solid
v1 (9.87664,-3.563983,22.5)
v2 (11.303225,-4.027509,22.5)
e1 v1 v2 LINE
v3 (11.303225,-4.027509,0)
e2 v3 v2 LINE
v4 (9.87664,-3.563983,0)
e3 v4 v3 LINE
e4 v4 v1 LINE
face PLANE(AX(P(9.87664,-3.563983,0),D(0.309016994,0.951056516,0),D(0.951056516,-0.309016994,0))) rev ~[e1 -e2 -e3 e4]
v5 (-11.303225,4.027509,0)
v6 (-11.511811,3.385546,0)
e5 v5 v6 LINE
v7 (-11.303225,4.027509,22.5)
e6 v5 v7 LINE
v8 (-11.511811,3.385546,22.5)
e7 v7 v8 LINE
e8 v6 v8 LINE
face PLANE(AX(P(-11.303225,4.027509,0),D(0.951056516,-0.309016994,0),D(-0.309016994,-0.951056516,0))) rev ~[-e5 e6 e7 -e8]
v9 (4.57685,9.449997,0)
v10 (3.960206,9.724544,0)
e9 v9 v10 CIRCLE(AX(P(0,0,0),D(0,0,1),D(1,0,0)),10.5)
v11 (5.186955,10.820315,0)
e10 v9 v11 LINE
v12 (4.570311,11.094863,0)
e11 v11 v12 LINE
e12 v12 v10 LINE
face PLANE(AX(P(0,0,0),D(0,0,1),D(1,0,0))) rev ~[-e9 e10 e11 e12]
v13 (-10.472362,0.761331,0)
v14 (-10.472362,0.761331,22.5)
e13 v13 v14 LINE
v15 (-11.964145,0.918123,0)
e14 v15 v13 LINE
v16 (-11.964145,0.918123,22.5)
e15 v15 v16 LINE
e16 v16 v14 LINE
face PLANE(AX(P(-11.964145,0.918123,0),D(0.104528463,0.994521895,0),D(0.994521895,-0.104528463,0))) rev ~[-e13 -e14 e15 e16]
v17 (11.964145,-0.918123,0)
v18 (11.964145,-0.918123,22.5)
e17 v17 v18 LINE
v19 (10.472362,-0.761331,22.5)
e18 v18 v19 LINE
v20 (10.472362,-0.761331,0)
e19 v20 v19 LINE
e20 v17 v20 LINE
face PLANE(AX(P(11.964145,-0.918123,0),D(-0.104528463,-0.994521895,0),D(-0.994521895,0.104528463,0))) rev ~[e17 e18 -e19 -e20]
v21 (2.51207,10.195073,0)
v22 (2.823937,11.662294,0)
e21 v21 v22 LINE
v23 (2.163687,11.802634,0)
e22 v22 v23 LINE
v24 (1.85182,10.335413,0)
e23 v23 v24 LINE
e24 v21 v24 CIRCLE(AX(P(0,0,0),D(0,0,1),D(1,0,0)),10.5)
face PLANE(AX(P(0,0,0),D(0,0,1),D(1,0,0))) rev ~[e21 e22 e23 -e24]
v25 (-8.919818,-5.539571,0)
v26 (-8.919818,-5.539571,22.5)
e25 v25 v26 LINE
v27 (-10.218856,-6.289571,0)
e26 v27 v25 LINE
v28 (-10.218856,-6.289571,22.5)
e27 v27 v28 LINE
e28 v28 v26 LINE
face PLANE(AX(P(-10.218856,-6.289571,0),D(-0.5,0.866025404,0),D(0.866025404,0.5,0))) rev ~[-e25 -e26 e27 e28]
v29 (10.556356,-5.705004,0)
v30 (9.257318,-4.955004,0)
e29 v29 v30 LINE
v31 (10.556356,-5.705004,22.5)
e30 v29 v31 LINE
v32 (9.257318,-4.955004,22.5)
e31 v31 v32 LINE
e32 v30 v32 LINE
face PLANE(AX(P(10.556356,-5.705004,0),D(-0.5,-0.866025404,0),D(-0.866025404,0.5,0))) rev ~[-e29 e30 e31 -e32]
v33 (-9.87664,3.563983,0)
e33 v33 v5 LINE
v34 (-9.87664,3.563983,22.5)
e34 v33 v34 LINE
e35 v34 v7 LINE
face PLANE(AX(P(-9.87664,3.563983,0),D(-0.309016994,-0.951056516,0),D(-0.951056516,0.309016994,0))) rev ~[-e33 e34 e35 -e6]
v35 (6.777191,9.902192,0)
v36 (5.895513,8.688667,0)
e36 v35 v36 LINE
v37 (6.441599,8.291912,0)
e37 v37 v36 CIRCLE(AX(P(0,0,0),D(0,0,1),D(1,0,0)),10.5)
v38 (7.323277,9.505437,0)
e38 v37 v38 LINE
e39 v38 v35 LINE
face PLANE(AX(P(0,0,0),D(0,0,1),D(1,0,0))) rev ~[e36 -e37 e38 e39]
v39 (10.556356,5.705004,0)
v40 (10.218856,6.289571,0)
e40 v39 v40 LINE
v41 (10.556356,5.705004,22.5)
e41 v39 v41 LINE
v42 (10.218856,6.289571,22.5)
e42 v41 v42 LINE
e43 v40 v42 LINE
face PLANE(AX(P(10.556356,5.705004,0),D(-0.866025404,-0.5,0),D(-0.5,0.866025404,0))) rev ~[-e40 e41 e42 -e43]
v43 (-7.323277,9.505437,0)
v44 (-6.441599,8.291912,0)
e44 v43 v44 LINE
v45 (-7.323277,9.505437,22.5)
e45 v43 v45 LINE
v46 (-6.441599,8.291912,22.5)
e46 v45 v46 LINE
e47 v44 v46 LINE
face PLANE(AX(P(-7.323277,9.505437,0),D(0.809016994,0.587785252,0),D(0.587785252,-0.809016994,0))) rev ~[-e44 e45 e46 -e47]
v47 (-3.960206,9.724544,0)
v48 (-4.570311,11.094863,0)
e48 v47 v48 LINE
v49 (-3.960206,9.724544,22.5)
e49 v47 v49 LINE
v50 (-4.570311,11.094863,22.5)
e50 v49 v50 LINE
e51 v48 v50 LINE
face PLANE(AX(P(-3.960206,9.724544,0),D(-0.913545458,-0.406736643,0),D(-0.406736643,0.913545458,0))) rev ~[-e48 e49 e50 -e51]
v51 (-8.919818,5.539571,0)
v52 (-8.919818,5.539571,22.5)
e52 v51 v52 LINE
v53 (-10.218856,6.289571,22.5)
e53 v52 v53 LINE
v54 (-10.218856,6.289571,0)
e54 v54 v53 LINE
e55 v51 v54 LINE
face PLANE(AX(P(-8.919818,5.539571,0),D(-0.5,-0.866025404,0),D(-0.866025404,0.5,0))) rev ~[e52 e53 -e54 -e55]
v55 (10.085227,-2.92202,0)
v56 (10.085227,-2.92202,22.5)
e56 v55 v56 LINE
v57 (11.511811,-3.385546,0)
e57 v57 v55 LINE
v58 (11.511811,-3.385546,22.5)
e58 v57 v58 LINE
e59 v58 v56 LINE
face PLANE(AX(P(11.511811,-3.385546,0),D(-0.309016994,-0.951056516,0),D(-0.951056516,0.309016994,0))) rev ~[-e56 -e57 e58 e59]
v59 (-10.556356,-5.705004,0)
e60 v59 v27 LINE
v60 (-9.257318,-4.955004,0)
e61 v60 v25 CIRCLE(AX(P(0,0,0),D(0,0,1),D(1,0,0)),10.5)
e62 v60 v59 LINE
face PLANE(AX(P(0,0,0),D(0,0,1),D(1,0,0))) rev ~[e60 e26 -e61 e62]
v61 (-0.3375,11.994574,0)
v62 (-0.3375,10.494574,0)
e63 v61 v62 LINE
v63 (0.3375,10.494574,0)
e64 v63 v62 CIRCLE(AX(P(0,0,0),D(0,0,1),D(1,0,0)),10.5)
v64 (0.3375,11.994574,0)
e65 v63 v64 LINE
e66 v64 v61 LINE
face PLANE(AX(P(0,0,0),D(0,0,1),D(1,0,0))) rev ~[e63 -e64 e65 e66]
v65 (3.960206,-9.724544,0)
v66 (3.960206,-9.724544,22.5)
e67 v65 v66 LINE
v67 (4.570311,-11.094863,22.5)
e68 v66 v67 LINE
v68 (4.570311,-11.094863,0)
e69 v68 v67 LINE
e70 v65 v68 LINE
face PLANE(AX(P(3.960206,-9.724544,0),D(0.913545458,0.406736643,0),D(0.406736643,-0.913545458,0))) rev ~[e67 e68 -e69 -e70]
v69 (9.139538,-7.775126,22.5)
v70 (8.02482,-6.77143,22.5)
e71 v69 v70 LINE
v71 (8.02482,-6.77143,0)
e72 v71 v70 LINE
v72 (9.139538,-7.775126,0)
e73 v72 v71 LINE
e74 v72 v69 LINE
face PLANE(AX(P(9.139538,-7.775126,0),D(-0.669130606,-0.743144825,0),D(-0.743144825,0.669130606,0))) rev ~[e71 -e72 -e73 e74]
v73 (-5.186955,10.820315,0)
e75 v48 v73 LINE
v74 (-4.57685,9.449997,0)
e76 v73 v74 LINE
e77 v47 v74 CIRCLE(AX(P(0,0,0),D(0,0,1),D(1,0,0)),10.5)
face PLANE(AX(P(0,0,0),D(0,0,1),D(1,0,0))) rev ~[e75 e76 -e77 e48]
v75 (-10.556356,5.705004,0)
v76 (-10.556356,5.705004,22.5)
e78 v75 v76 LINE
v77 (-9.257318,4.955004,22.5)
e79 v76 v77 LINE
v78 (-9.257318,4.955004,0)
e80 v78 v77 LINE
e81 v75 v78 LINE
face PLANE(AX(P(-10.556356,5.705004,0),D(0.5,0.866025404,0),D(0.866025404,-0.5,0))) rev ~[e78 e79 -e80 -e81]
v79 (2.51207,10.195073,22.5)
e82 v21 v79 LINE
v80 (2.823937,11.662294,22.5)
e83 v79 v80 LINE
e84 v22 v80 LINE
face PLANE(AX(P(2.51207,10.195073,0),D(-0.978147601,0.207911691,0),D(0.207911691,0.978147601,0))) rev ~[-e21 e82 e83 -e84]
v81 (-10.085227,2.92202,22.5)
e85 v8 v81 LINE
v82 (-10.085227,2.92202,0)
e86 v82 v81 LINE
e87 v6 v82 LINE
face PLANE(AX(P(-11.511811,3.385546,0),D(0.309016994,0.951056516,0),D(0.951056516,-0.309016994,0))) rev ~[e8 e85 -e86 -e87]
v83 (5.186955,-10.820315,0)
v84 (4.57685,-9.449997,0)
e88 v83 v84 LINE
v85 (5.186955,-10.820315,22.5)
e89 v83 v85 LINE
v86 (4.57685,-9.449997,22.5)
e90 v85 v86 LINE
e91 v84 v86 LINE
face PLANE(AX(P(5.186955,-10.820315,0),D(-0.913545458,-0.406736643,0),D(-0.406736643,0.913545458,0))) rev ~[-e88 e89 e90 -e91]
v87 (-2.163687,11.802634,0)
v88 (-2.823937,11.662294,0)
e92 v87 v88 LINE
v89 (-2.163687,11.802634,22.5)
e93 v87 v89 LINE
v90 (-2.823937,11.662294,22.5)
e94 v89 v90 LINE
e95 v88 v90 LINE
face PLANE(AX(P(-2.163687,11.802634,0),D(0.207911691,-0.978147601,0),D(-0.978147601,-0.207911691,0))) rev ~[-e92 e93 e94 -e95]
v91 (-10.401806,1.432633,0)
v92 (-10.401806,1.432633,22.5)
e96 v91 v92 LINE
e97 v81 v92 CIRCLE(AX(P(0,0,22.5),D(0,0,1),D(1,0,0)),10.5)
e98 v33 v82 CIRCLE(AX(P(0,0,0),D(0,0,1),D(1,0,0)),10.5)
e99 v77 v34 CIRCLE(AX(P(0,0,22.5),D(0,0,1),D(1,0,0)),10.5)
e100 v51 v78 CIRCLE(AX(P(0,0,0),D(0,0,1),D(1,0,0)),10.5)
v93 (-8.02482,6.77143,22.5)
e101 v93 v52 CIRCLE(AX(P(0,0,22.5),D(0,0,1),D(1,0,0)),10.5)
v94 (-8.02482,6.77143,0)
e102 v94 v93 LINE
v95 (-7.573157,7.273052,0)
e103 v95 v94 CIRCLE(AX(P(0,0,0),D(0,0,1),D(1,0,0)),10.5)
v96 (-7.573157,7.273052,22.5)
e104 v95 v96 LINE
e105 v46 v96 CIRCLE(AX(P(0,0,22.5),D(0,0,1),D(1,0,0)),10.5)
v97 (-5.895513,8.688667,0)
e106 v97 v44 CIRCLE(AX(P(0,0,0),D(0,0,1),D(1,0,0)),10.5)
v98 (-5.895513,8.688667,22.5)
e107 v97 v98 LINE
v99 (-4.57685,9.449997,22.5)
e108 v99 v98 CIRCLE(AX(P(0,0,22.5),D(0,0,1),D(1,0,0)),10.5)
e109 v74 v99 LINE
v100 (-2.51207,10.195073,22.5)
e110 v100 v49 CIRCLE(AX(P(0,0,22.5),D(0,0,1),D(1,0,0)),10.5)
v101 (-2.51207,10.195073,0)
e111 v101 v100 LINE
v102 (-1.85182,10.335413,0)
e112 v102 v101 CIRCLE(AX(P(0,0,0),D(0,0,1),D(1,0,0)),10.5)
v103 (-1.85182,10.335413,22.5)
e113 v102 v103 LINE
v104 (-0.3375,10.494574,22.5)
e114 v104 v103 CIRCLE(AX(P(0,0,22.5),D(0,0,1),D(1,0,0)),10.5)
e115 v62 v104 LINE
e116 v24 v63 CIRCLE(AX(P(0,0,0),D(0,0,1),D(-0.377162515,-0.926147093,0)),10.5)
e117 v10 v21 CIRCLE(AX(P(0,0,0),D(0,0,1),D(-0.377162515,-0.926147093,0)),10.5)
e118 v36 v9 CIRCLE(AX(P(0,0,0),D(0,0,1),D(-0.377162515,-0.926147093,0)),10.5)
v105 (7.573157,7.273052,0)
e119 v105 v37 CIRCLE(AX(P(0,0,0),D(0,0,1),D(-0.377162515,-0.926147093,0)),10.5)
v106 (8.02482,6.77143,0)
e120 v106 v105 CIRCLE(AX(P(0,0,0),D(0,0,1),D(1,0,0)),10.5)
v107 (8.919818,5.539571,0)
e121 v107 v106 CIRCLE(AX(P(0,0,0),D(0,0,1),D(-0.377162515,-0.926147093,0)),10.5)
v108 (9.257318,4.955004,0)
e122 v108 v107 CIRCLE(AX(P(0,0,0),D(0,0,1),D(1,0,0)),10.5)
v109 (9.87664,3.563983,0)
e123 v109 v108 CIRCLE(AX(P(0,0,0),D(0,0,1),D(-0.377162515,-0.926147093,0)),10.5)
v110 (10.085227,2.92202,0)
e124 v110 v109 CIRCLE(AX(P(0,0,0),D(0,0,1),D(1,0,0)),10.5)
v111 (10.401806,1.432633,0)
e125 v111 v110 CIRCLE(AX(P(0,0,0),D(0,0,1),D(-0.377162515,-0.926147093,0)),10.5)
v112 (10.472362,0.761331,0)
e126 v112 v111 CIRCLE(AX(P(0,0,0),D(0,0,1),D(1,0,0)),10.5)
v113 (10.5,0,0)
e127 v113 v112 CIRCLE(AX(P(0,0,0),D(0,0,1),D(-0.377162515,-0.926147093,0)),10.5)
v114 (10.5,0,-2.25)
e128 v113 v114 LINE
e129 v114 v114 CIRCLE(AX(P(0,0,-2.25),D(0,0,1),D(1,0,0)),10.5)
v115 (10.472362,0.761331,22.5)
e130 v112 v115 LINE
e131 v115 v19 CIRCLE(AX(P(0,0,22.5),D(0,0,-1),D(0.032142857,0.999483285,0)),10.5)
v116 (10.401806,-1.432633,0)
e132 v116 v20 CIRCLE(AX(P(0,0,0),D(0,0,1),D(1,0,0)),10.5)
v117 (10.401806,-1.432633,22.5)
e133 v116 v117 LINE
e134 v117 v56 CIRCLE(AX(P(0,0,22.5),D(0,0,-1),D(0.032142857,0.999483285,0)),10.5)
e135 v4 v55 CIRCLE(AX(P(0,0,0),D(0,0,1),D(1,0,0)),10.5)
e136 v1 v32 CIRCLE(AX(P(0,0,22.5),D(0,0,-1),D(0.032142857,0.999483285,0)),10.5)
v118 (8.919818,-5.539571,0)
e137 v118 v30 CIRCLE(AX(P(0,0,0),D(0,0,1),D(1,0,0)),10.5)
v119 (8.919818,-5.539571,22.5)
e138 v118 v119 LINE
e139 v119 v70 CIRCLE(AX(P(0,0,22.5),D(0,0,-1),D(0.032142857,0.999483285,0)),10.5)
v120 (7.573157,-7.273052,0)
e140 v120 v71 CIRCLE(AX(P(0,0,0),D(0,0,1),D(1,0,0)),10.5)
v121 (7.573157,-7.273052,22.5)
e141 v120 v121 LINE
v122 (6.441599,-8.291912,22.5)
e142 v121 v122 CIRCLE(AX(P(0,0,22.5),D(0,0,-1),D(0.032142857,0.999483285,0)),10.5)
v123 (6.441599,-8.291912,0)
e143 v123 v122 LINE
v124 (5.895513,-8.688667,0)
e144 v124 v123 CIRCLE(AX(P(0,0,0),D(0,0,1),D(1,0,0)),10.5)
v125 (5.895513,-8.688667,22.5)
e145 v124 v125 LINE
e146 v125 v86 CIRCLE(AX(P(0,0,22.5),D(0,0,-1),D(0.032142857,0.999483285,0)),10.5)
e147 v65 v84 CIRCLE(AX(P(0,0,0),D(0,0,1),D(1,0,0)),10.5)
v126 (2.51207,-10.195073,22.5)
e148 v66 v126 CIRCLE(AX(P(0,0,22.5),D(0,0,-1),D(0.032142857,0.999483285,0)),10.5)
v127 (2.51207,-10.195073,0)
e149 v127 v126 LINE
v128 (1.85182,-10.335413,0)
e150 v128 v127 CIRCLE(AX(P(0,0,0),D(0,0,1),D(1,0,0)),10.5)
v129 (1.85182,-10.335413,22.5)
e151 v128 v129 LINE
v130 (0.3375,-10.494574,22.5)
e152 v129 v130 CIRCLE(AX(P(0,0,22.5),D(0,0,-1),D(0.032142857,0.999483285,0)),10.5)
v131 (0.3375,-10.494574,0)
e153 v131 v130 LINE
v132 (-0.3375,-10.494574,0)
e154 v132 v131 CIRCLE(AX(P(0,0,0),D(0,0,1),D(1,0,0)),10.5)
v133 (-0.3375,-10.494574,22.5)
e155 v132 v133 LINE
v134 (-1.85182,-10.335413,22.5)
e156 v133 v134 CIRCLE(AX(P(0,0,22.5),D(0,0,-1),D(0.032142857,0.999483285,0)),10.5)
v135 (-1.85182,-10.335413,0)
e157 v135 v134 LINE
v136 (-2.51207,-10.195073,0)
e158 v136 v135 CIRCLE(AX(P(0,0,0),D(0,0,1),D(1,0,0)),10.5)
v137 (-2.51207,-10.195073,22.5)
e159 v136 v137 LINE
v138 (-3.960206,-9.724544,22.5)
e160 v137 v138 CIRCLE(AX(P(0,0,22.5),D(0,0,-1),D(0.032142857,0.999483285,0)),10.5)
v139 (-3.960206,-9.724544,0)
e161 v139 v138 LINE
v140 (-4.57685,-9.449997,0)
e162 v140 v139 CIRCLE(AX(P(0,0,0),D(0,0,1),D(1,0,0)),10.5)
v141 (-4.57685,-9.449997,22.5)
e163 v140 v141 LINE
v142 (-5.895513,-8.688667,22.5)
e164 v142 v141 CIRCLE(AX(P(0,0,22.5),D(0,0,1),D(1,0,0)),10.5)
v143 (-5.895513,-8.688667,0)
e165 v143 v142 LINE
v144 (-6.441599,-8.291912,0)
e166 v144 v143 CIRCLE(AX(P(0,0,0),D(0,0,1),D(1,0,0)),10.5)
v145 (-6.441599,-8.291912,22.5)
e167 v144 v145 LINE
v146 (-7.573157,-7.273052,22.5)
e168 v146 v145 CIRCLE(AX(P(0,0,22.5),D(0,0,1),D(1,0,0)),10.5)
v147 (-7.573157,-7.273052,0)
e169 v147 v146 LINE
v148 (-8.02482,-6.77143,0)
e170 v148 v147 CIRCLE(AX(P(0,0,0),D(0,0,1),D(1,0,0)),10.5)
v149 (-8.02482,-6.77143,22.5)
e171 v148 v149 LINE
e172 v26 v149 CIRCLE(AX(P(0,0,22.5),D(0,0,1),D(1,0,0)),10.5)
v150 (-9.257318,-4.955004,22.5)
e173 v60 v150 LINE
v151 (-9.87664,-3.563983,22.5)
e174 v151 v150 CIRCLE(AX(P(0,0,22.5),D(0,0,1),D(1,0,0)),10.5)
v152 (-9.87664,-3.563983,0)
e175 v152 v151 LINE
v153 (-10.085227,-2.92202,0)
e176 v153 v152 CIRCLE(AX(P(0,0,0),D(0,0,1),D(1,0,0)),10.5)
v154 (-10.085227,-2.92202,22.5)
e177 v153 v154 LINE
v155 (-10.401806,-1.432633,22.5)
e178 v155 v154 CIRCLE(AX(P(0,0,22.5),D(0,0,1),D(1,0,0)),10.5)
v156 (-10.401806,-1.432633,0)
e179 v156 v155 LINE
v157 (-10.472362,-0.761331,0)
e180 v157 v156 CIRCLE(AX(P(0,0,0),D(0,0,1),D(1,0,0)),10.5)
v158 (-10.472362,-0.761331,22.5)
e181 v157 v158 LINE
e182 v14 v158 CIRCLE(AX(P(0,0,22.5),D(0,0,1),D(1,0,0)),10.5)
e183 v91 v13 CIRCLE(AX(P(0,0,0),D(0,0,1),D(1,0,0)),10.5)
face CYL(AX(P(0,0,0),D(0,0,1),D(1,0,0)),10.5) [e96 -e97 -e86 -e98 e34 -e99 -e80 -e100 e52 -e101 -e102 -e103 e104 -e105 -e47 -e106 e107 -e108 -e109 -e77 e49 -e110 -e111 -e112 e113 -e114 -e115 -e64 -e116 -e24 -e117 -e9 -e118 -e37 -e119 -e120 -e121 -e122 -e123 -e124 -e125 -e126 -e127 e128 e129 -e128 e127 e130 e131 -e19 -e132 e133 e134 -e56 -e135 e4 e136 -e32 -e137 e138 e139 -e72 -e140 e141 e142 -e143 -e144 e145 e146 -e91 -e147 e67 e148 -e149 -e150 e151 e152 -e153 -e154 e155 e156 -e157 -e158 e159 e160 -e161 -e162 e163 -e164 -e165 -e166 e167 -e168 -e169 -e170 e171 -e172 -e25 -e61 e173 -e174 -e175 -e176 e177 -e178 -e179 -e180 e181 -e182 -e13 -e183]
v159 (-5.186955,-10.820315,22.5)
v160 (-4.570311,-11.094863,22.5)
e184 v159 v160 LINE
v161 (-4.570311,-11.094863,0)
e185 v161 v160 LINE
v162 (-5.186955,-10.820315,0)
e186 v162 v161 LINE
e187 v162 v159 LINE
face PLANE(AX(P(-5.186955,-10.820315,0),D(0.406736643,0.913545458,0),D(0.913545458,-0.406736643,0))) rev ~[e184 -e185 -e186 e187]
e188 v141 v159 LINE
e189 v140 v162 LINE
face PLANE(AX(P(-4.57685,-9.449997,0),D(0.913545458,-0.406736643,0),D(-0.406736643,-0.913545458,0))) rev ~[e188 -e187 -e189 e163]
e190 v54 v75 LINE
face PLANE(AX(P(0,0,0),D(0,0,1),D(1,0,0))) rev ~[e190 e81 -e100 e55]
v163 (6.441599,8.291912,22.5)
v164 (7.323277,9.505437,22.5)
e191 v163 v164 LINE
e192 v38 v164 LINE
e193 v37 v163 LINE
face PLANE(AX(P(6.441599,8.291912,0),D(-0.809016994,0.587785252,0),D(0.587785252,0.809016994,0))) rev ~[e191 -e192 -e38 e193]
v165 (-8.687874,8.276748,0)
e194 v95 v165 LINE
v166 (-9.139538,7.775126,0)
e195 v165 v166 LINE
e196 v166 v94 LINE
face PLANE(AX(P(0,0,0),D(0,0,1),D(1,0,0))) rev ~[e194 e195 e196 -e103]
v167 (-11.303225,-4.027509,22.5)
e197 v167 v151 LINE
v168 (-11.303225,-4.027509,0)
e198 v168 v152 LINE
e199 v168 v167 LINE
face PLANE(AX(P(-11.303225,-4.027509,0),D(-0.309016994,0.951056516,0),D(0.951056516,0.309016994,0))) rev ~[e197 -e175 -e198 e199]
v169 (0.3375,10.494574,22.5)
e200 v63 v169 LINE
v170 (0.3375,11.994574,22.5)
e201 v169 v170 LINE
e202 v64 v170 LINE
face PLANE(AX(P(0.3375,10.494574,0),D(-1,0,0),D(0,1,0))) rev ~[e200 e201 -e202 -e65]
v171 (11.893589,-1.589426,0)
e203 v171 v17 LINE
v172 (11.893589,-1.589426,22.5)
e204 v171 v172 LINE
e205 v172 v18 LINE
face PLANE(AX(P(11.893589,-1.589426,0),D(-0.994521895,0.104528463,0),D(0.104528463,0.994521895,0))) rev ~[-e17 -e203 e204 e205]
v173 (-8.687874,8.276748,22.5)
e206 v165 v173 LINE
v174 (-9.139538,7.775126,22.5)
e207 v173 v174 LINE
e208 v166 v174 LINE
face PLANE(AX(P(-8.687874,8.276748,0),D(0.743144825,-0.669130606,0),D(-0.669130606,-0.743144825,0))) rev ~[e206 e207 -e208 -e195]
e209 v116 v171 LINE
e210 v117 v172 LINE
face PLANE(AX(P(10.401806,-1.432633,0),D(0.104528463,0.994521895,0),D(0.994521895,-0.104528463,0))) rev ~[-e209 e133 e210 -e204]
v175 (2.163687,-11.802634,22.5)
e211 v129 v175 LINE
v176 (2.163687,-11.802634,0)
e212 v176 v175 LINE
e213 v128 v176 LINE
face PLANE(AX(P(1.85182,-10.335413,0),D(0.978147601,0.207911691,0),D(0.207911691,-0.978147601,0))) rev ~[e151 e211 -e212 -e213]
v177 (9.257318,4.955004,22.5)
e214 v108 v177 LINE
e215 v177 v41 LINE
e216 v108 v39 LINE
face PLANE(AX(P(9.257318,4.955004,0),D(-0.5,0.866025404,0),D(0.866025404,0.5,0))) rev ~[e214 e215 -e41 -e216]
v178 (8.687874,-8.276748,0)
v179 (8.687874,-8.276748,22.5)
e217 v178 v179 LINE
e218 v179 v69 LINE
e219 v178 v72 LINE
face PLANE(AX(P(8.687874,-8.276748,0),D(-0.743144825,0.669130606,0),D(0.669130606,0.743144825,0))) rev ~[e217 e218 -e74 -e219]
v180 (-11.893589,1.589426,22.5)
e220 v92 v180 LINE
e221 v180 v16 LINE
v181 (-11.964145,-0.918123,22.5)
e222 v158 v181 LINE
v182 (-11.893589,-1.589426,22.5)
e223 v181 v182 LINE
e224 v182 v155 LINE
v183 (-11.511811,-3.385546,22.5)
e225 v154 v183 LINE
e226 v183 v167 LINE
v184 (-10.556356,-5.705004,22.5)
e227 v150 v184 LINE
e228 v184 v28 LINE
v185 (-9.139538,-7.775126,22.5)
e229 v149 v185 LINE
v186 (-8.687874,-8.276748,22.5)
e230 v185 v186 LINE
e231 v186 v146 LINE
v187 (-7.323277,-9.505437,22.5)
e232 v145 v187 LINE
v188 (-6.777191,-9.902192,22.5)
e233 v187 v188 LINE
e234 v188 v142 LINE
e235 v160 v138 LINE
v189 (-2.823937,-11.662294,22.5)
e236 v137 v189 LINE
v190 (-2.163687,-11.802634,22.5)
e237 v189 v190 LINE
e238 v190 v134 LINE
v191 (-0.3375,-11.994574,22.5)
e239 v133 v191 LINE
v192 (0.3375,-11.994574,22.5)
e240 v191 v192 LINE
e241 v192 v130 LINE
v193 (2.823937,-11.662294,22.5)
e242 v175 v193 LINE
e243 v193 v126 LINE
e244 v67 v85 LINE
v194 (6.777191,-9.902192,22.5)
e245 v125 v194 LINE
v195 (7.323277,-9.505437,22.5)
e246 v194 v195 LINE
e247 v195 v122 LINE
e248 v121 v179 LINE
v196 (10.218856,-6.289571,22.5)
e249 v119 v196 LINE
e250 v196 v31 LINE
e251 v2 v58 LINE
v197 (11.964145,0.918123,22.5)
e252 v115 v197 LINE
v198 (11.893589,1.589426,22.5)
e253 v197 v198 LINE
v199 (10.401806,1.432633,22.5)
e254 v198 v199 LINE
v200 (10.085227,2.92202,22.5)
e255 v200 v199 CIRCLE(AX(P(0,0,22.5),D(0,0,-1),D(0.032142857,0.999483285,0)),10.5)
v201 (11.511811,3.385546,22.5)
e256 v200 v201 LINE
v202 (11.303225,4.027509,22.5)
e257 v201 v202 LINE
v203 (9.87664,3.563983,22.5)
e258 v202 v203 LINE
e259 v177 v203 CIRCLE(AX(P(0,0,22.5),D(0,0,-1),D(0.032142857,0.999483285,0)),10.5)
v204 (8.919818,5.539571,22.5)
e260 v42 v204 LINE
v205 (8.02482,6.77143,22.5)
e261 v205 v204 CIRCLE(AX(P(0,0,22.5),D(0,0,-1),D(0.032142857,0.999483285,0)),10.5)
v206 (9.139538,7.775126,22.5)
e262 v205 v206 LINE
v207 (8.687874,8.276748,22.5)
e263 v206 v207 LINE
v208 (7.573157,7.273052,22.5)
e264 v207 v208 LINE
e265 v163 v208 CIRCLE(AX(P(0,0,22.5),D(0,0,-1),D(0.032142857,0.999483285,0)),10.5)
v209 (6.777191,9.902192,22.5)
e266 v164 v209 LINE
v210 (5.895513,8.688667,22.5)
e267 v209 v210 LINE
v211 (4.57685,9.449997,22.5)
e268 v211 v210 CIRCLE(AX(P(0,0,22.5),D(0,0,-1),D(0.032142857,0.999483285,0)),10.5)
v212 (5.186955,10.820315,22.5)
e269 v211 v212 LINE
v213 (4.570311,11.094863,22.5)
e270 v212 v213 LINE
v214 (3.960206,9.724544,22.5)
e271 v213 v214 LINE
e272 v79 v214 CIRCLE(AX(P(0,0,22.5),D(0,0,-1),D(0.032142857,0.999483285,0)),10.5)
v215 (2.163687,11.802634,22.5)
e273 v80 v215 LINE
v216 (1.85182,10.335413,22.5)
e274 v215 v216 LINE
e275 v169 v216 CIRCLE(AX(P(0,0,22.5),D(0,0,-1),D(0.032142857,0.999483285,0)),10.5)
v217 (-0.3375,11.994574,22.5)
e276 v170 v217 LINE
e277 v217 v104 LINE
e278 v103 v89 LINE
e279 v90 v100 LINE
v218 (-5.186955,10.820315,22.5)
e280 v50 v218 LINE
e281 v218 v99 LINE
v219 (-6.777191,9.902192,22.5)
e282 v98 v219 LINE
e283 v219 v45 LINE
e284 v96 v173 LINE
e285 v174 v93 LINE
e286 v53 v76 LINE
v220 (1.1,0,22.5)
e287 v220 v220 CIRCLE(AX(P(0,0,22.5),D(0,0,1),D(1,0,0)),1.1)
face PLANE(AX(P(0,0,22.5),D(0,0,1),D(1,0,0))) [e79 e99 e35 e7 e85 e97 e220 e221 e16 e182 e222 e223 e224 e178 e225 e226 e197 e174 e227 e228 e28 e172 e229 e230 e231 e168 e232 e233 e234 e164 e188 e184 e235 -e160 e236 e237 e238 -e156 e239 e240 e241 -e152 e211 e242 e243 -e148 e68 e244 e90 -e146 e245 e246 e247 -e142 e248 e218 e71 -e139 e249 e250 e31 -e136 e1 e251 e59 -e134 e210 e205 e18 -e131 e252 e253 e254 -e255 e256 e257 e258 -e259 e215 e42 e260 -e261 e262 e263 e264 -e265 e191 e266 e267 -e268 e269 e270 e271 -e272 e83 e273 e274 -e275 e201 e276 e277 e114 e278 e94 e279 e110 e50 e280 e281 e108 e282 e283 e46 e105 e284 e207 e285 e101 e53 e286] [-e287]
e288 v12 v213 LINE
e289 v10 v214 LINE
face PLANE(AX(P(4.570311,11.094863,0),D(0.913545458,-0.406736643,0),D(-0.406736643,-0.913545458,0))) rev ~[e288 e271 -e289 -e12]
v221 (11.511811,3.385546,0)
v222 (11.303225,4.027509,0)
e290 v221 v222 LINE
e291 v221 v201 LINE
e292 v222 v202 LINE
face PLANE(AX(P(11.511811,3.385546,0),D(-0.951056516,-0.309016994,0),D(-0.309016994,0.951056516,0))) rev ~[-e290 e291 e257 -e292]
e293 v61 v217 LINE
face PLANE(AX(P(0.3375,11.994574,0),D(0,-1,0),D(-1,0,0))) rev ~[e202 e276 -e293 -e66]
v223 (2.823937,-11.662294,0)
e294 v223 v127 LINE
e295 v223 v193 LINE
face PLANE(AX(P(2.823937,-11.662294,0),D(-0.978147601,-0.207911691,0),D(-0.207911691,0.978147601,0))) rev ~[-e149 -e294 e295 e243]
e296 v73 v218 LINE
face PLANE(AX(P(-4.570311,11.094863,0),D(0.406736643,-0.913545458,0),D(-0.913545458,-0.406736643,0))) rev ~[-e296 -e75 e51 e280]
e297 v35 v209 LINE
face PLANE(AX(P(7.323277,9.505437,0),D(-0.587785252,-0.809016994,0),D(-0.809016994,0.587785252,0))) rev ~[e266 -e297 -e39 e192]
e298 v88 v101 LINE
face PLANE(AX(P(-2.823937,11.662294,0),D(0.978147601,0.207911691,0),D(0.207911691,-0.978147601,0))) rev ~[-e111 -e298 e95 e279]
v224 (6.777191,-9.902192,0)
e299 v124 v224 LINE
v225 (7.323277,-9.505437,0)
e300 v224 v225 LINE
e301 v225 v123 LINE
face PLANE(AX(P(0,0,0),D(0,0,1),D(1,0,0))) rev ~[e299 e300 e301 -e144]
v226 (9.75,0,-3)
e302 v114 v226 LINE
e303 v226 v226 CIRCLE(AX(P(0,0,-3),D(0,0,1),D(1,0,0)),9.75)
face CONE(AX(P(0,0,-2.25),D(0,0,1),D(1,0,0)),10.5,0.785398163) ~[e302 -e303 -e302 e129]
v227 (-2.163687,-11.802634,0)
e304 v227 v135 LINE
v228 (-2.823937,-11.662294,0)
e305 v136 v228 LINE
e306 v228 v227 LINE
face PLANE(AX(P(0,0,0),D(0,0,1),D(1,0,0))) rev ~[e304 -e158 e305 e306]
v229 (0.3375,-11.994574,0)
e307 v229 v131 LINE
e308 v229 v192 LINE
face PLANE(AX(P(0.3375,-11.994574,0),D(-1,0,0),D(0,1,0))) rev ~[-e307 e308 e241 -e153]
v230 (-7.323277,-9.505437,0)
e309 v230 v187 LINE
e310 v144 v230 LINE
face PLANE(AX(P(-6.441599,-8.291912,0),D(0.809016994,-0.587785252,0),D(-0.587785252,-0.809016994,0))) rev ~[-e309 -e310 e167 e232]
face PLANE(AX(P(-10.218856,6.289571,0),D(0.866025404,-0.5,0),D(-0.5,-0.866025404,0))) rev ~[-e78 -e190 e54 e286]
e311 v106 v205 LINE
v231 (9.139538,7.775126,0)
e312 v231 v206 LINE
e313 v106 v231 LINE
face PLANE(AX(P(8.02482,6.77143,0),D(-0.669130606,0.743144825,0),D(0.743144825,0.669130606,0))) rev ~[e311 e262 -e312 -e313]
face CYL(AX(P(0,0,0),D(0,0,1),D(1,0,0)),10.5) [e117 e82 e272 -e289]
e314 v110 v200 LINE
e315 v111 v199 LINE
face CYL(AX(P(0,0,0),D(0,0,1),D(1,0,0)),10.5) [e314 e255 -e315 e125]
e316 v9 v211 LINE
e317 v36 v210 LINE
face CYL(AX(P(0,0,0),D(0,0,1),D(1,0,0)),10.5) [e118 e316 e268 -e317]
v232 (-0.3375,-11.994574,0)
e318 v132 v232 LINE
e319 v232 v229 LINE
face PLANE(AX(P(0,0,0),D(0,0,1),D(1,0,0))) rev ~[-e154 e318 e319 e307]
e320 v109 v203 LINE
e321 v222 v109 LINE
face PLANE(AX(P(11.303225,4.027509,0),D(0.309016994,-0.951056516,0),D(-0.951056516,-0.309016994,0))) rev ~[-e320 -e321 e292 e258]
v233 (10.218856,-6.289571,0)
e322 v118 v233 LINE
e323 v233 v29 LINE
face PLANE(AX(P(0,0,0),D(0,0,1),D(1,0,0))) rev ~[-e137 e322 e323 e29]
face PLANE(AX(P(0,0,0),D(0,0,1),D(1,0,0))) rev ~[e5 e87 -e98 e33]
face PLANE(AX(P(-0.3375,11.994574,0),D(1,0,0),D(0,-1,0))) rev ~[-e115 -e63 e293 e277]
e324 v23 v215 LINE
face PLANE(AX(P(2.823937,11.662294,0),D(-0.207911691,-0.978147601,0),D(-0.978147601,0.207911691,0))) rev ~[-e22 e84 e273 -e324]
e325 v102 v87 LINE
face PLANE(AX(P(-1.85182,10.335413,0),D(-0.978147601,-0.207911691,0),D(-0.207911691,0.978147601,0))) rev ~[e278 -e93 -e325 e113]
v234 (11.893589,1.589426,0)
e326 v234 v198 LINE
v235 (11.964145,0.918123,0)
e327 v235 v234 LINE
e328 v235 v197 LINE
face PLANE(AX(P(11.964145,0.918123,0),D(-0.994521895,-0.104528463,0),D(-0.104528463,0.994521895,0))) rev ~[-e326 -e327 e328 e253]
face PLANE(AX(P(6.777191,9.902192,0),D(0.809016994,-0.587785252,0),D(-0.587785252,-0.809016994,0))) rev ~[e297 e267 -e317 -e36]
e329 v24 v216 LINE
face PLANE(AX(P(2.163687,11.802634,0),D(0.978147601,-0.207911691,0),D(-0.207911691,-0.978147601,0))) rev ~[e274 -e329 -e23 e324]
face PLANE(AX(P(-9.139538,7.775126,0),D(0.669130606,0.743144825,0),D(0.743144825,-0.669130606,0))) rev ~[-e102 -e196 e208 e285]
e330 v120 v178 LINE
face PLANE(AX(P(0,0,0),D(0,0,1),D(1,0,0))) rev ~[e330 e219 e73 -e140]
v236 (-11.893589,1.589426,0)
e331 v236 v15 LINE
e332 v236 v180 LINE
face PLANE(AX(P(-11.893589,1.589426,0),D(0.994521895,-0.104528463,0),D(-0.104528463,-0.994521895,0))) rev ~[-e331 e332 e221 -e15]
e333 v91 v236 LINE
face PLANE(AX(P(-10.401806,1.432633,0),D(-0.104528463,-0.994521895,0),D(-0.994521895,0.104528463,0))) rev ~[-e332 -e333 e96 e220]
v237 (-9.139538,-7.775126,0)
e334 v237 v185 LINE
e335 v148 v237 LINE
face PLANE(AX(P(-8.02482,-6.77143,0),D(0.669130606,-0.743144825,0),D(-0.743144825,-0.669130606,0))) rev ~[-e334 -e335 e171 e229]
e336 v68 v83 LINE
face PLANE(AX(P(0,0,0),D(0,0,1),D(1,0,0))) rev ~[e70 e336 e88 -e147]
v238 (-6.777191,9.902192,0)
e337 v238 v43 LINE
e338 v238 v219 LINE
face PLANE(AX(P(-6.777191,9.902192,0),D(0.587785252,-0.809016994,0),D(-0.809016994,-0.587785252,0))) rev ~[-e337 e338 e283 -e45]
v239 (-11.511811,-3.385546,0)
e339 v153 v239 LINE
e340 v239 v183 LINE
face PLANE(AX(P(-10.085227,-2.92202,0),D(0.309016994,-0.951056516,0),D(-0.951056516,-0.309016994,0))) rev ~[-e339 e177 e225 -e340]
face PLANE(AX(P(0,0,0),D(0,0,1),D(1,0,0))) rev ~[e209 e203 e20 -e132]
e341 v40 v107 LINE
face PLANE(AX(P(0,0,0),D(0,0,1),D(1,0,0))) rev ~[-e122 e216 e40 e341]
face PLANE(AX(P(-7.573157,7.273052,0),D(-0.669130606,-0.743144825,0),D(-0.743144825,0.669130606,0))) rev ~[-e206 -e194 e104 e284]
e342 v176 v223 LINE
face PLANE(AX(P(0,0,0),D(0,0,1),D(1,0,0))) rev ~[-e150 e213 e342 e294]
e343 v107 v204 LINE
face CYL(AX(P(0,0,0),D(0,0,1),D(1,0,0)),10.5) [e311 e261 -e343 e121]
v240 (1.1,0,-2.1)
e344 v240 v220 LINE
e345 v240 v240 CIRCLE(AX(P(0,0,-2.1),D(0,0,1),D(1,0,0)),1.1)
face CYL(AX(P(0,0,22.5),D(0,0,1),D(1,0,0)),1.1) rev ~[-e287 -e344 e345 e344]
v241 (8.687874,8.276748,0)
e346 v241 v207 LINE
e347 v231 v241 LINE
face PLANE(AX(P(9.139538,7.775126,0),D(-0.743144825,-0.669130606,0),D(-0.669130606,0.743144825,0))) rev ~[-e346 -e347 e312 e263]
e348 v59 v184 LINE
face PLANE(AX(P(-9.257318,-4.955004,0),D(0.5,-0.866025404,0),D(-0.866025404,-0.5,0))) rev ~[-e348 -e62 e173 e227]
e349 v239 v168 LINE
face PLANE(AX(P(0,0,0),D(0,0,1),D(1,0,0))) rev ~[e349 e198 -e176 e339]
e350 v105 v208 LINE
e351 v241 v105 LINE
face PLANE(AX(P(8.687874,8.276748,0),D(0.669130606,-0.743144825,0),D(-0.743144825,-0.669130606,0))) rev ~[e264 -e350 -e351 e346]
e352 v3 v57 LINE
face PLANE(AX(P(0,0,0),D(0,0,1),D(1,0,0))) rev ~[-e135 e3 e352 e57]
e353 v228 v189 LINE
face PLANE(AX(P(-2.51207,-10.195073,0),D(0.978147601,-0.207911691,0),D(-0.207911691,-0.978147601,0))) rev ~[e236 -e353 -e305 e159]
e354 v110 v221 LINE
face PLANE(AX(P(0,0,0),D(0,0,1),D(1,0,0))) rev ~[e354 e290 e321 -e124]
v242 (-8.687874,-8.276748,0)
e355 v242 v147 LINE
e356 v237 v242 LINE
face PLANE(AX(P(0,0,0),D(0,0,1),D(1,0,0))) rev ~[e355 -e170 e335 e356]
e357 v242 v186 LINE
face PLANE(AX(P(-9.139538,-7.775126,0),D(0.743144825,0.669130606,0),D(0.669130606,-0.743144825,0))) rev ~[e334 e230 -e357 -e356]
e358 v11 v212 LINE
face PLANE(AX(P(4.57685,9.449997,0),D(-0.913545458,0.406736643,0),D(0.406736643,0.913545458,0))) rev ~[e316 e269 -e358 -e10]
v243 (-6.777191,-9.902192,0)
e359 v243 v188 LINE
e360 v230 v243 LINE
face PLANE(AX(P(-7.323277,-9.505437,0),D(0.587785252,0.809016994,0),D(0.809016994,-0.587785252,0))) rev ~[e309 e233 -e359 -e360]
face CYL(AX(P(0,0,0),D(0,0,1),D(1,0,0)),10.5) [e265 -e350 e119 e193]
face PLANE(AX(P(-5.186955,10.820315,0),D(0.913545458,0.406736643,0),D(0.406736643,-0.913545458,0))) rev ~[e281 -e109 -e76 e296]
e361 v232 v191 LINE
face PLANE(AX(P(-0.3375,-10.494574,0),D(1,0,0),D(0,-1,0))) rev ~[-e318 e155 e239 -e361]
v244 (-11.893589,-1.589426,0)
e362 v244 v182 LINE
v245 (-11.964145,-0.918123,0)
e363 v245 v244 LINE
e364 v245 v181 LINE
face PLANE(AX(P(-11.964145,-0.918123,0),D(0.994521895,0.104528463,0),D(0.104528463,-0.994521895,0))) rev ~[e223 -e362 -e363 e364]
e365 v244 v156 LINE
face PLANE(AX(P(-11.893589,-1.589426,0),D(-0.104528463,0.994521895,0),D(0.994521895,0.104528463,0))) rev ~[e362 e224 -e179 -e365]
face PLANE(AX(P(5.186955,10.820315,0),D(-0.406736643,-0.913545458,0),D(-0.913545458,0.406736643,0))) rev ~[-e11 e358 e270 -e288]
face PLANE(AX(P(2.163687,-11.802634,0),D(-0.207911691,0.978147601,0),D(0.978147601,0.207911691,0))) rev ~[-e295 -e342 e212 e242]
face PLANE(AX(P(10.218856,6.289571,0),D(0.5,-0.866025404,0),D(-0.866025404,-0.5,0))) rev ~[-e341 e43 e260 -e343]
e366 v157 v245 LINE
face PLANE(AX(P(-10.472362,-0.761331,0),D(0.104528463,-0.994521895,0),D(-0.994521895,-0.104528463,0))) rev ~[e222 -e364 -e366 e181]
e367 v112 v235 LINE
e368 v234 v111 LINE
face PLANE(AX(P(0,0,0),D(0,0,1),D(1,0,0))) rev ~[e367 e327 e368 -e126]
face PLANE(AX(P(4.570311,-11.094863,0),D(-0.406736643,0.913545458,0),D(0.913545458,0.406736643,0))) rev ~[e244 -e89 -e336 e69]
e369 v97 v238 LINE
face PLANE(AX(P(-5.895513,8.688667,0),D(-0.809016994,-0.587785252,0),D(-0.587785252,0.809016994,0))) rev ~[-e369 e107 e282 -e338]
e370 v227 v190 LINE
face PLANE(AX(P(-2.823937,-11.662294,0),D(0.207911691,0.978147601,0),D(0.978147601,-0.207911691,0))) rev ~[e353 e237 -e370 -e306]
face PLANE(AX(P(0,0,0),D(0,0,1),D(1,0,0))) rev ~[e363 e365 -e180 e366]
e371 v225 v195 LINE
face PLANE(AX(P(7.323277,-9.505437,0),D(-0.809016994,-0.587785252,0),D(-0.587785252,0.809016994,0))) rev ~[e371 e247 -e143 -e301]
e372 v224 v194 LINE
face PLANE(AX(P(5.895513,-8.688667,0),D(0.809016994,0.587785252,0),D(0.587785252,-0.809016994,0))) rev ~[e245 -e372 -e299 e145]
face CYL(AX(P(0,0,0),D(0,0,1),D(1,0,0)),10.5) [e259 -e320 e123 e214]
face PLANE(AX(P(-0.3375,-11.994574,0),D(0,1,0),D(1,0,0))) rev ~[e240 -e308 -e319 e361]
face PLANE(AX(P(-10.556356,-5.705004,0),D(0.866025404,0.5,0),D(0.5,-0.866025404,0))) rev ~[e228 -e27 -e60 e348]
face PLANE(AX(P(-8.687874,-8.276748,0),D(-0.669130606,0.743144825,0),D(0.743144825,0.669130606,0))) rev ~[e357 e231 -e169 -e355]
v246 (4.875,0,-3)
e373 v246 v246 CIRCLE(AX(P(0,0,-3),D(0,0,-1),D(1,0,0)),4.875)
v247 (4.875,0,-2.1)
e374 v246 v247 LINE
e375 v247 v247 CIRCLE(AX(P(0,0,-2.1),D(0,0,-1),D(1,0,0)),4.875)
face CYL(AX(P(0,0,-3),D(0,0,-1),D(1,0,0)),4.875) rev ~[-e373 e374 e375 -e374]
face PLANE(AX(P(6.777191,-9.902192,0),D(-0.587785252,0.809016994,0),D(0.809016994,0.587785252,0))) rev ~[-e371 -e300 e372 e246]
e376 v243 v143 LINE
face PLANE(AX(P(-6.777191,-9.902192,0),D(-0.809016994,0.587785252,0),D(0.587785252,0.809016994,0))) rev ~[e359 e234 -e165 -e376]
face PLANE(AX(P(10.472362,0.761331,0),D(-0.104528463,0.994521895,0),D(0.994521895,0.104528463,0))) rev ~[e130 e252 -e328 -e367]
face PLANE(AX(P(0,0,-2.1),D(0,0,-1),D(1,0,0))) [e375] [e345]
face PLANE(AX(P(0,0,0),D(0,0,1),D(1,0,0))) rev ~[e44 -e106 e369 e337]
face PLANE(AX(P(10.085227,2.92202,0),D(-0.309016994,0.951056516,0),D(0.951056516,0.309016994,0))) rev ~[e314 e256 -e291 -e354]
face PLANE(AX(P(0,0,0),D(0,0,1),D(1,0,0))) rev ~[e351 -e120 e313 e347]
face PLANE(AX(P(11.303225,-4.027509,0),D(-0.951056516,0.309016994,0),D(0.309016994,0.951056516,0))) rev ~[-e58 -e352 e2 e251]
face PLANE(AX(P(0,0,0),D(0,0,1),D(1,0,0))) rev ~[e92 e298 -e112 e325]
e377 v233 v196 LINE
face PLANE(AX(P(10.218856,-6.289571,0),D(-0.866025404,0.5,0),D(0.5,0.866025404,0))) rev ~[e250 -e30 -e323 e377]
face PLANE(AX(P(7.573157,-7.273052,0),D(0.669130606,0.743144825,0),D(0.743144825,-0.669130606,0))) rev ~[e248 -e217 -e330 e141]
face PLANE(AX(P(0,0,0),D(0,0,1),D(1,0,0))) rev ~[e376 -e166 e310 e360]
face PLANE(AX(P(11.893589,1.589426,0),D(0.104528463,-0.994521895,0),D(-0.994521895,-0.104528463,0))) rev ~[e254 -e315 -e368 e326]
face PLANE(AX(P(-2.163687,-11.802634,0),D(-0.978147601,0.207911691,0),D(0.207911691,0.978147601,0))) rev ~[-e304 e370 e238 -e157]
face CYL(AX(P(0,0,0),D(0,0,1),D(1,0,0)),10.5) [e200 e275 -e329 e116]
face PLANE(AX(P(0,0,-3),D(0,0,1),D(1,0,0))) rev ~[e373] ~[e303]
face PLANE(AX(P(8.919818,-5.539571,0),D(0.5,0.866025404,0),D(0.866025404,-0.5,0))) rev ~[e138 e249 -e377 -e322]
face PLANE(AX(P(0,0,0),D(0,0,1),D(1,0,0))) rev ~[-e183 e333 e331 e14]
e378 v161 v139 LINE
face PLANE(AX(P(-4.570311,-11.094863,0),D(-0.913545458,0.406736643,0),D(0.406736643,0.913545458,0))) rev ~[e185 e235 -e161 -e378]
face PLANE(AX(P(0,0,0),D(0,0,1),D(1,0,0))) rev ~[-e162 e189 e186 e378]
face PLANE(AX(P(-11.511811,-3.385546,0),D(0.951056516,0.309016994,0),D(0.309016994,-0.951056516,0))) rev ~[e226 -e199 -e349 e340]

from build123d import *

# Parameters (mm, degrees)
F1_R      = 10.5
F2_DEPTH  = 22.5
F4_DEPTH  = 22.5
F5_COUNT  = 30
F7_R      = 10.5
F8_DEPTH  = 3
F9_SIZE   = 0.75
F10_R     = 4.875
F11_DEPTH = 0.9
F13_R     = 1.1
F14_DEPTH = 37.5


with BuildPart() as f2:
    # F1 (on Top) → F2 (new body)
    with BuildSketch(Plane.XY):
        Circle(F1_R)
    extrude(amount=F2_DEPTH)


with BuildPart() as f4:
    # F3 (on Top) → F4 (new body)
    with BuildSketch(Plane.XY):
        with BuildLine():
            ThreePointArc((-0.3375, 10.4945744911), (0, 10.5), (0.3375, 10.4945744911))
            Line((0.3375, 10.4945744911), (0.3375, 11.9945744911))
            Line((0.3375, 11.9945744911), (-0.3375, 11.9945744911))
            Line((-0.3375, 11.9945744911), (-0.3375, 10.4945744911))
        make_face()
    extrude(amount=F4_DEPTH)


with BuildPart() as f5_1:
    # F5: instance of F4
    add(f4.part.rotate(Axis((0, 0, 22.5), (0, 0, 1)), 1 * 360 / F5_COUNT))


with BuildPart() as f5_2:
    # F5: instance of F4
    add(f4.part.rotate(Axis((0, 0, 22.5), (0, 0, 1)), 2 * 360 / F5_COUNT))


with BuildPart() as f5_3:
    # F5: instance of F4
    add(f4.part.rotate(Axis((0, 0, 22.5), (0, 0, 1)), 3 * 360 / F5_COUNT))


with BuildPart() as f5_4:
    # F5: instance of F4
    add(f4.part.rotate(Axis((0, 0, 22.5), (0, 0, 1)), 4 * 360 / F5_COUNT))


with BuildPart() as f5_5:
    # F5: instance of F4
    add(f4.part.rotate(Axis((0, 0, 22.5), (0, 0, 1)), 5 * 360 / F5_COUNT))


with BuildPart() as f5_6:
    # F5: instance of F4
    add(f4.part.rotate(Axis((0, 0, 22.5), (0, 0, 1)), 6 * 360 / F5_COUNT))


with BuildPart() as f5_7:
    # F5: instance of F4
    add(f4.part.rotate(Axis((0, 0, 22.5), (0, 0, 1)), 7 * 360 / F5_COUNT))


with BuildPart() as f5_8:
    # F5: instance of F4
    add(f4.part.rotate(Axis((0, 0, 22.5), (0, 0, 1)), 8 * 360 / F5_COUNT))


with BuildPart() as f5_9:
    # F5: instance of F4
    add(f4.part.rotate(Axis((0, 0, 22.5), (0, 0, 1)), 9 * 360 / F5_COUNT))


with BuildPart() as f5_10:
    # F5: instance of F4
    add(f4.part.rotate(Axis((0, 0, 22.5), (0, 0, 1)), 10 * 360 / F5_COUNT))


with BuildPart() as f5_11:
    # F5: instance of F4
    add(f4.part.rotate(Axis((0, 0, 22.5), (0, 0, 1)), 11 * 360 / F5_COUNT))


with BuildPart() as f5_12:
    # F5: instance of F4
    add(f4.part.rotate(Axis((0, 0, 22.5), (0, 0, 1)), 12 * 360 / F5_COUNT))


with BuildPart() as f5_13:
    # F5: instance of F4
    add(f4.part.rotate(Axis((0, 0, 22.5), (0, 0, 1)), 13 * 360 / F5_COUNT))


with BuildPart() as f5_14:
    # F5: instance of F4
    add(f4.part.rotate(Axis((0, 0, 22.5), (0, 0, 1)), 14 * 360 / F5_COUNT))


with BuildPart() as f5_15:
    # F5: instance of F4
    add(f4.part.rotate(Axis((0, 0, 22.5), (0, 0, 1)), 15 * 360 / F5_COUNT))


with BuildPart() as f5_16:
    # F5: instance of F4
    add(f4.part.rotate(Axis((0, 0, 22.5), (0, 0, 1)), 16 * 360 / F5_COUNT))


with BuildPart() as f5_17:
    # F5: instance of F4
    add(f4.part.rotate(Axis((0, 0, 22.5), (0, 0, 1)), 17 * 360 / F5_COUNT))


with BuildPart() as f5_18:
    # F5: instance of F4
    add(f4.part.rotate(Axis((0, 0, 22.5), (0, 0, 1)), 18 * 360 / F5_COUNT))


with BuildPart() as f5_19:
    # F5: instance of F4
    add(f4.part.rotate(Axis((0, 0, 22.5), (0, 0, 1)), 19 * 360 / F5_COUNT))


with BuildPart() as f5_20:
    # F5: instance of F4
    add(f4.part.rotate(Axis((0, 0, 22.5), (0, 0, 1)), 20 * 360 / F5_COUNT))


with BuildPart() as f5_21:
    # F5: instance of F4
    add(f4.part.rotate(Axis((0, 0, 22.5), (0, 0, 1)), 21 * 360 / F5_COUNT))


with BuildPart() as f5_22:
    # F5: instance of F4
    add(f4.part.rotate(Axis((0, 0, 22.5), (0, 0, 1)), 22 * 360 / F5_COUNT))


with BuildPart() as f5_23:
    # F5: instance of F4
    add(f4.part.rotate(Axis((0, 0, 22.5), (0, 0, 1)), 23 * 360 / F5_COUNT))


with BuildPart() as f5_24:
    # F5: instance of F4
    add(f4.part.rotate(Axis((0, 0, 22.5), (0, 0, 1)), 24 * 360 / F5_COUNT))


with BuildPart() as f5_25:
    # F5: instance of F4
    add(f4.part.rotate(Axis((0, 0, 22.5), (0, 0, 1)), 25 * 360 / F5_COUNT))


with BuildPart() as f5_26:
    # F5: instance of F4
    add(f4.part.rotate(Axis((0, 0, 22.5), (0, 0, 1)), 26 * 360 / F5_COUNT))


with BuildPart() as f5_27:
    # F5: instance of F4
    add(f4.part.rotate(Axis((0, 0, 22.5), (0, 0, 1)), 27 * 360 / F5_COUNT))


with BuildPart() as f5_28:
    # F5: instance of F4
    add(f4.part.rotate(Axis((0, 0, 22.5), (0, 0, 1)), 28 * 360 / F5_COUNT))


with BuildPart() as f5_29:
    # F5: instance of F4
    add(f4.part.rotate(Axis((0, 0, 22.5), (0, 0, 1)), 29 * 360 / F5_COUNT))


with BuildPart() as f5_4_1:
    add(f5_4.part)

    # F6: union F5_2, F5_11, F5_1, F5_3, F5_6, F4, F5_13, F5_8, F5_7, F5_5, F5_9, F2, F5_10, F5_14, F5_12, F5_18, F5_17, F5_16, F5_15, F5_19, F5_20, F5_21, F5_22, F5_23, F5_24, F5_25, F5_26, F5_27, F5_28, F5_29
    add(f5_2.part)
    add(f5_11.part)
    add(f5_1.part)
    add(f5_3.part)
    add(f5_6.part)
    add(f4.part)
    add(f5_13.part)
    add(f5_8.part)
    add(f5_7.part)
    add(f5_5.part)
    add(f5_9.part)
    add(f2.part)
    add(f5_10.part)
    add(f5_14.part)
    add(f5_12.part)
    add(f5_18.part)
    add(f5_17.part)
    add(f5_16.part)
    add(f5_15.part)
    add(f5_19.part)
    add(f5_20.part)
    add(f5_21.part)
    add(f5_22.part)
    add(f5_23.part)
    add(f5_24.part)
    add(f5_25.part)
    add(f5_26.part)
    add(f5_27.part)
    add(f5_28.part)
    add(f5_29.part)

    # F7 (on Top) → F8 (join)
    with BuildSketch(Plane.XY):
        Circle(F7_R)
    extrude(amount=-F8_DEPTH)

    # F9
    f9_edges = [f5_4_1.edges().sort_by_distance(p)[0] for p in [
        (-10.5, 0, -3),
    ]]
    chamfer(f9_edges, length=F9_SIZE)

    # F10 (on face) → F11 (cut)
    with BuildSketch(Plane(origin=(0, 0, -3), x_dir=(1, 0, 0), z_dir=(0, 0, -1))):
        Circle(F10_R)
    extrude(amount=-F11_DEPTH, mode=Mode.SUBTRACT)

    # F13 (on face) → F14 (cut, symmetric)
    with BuildSketch(Plane.XY.offset(22.5)):
        Circle(F13_R)
    extrude(amount=F14_DEPTH, both=True, mode=Mode.SUBTRACT)


solid = f5_4_1.part
